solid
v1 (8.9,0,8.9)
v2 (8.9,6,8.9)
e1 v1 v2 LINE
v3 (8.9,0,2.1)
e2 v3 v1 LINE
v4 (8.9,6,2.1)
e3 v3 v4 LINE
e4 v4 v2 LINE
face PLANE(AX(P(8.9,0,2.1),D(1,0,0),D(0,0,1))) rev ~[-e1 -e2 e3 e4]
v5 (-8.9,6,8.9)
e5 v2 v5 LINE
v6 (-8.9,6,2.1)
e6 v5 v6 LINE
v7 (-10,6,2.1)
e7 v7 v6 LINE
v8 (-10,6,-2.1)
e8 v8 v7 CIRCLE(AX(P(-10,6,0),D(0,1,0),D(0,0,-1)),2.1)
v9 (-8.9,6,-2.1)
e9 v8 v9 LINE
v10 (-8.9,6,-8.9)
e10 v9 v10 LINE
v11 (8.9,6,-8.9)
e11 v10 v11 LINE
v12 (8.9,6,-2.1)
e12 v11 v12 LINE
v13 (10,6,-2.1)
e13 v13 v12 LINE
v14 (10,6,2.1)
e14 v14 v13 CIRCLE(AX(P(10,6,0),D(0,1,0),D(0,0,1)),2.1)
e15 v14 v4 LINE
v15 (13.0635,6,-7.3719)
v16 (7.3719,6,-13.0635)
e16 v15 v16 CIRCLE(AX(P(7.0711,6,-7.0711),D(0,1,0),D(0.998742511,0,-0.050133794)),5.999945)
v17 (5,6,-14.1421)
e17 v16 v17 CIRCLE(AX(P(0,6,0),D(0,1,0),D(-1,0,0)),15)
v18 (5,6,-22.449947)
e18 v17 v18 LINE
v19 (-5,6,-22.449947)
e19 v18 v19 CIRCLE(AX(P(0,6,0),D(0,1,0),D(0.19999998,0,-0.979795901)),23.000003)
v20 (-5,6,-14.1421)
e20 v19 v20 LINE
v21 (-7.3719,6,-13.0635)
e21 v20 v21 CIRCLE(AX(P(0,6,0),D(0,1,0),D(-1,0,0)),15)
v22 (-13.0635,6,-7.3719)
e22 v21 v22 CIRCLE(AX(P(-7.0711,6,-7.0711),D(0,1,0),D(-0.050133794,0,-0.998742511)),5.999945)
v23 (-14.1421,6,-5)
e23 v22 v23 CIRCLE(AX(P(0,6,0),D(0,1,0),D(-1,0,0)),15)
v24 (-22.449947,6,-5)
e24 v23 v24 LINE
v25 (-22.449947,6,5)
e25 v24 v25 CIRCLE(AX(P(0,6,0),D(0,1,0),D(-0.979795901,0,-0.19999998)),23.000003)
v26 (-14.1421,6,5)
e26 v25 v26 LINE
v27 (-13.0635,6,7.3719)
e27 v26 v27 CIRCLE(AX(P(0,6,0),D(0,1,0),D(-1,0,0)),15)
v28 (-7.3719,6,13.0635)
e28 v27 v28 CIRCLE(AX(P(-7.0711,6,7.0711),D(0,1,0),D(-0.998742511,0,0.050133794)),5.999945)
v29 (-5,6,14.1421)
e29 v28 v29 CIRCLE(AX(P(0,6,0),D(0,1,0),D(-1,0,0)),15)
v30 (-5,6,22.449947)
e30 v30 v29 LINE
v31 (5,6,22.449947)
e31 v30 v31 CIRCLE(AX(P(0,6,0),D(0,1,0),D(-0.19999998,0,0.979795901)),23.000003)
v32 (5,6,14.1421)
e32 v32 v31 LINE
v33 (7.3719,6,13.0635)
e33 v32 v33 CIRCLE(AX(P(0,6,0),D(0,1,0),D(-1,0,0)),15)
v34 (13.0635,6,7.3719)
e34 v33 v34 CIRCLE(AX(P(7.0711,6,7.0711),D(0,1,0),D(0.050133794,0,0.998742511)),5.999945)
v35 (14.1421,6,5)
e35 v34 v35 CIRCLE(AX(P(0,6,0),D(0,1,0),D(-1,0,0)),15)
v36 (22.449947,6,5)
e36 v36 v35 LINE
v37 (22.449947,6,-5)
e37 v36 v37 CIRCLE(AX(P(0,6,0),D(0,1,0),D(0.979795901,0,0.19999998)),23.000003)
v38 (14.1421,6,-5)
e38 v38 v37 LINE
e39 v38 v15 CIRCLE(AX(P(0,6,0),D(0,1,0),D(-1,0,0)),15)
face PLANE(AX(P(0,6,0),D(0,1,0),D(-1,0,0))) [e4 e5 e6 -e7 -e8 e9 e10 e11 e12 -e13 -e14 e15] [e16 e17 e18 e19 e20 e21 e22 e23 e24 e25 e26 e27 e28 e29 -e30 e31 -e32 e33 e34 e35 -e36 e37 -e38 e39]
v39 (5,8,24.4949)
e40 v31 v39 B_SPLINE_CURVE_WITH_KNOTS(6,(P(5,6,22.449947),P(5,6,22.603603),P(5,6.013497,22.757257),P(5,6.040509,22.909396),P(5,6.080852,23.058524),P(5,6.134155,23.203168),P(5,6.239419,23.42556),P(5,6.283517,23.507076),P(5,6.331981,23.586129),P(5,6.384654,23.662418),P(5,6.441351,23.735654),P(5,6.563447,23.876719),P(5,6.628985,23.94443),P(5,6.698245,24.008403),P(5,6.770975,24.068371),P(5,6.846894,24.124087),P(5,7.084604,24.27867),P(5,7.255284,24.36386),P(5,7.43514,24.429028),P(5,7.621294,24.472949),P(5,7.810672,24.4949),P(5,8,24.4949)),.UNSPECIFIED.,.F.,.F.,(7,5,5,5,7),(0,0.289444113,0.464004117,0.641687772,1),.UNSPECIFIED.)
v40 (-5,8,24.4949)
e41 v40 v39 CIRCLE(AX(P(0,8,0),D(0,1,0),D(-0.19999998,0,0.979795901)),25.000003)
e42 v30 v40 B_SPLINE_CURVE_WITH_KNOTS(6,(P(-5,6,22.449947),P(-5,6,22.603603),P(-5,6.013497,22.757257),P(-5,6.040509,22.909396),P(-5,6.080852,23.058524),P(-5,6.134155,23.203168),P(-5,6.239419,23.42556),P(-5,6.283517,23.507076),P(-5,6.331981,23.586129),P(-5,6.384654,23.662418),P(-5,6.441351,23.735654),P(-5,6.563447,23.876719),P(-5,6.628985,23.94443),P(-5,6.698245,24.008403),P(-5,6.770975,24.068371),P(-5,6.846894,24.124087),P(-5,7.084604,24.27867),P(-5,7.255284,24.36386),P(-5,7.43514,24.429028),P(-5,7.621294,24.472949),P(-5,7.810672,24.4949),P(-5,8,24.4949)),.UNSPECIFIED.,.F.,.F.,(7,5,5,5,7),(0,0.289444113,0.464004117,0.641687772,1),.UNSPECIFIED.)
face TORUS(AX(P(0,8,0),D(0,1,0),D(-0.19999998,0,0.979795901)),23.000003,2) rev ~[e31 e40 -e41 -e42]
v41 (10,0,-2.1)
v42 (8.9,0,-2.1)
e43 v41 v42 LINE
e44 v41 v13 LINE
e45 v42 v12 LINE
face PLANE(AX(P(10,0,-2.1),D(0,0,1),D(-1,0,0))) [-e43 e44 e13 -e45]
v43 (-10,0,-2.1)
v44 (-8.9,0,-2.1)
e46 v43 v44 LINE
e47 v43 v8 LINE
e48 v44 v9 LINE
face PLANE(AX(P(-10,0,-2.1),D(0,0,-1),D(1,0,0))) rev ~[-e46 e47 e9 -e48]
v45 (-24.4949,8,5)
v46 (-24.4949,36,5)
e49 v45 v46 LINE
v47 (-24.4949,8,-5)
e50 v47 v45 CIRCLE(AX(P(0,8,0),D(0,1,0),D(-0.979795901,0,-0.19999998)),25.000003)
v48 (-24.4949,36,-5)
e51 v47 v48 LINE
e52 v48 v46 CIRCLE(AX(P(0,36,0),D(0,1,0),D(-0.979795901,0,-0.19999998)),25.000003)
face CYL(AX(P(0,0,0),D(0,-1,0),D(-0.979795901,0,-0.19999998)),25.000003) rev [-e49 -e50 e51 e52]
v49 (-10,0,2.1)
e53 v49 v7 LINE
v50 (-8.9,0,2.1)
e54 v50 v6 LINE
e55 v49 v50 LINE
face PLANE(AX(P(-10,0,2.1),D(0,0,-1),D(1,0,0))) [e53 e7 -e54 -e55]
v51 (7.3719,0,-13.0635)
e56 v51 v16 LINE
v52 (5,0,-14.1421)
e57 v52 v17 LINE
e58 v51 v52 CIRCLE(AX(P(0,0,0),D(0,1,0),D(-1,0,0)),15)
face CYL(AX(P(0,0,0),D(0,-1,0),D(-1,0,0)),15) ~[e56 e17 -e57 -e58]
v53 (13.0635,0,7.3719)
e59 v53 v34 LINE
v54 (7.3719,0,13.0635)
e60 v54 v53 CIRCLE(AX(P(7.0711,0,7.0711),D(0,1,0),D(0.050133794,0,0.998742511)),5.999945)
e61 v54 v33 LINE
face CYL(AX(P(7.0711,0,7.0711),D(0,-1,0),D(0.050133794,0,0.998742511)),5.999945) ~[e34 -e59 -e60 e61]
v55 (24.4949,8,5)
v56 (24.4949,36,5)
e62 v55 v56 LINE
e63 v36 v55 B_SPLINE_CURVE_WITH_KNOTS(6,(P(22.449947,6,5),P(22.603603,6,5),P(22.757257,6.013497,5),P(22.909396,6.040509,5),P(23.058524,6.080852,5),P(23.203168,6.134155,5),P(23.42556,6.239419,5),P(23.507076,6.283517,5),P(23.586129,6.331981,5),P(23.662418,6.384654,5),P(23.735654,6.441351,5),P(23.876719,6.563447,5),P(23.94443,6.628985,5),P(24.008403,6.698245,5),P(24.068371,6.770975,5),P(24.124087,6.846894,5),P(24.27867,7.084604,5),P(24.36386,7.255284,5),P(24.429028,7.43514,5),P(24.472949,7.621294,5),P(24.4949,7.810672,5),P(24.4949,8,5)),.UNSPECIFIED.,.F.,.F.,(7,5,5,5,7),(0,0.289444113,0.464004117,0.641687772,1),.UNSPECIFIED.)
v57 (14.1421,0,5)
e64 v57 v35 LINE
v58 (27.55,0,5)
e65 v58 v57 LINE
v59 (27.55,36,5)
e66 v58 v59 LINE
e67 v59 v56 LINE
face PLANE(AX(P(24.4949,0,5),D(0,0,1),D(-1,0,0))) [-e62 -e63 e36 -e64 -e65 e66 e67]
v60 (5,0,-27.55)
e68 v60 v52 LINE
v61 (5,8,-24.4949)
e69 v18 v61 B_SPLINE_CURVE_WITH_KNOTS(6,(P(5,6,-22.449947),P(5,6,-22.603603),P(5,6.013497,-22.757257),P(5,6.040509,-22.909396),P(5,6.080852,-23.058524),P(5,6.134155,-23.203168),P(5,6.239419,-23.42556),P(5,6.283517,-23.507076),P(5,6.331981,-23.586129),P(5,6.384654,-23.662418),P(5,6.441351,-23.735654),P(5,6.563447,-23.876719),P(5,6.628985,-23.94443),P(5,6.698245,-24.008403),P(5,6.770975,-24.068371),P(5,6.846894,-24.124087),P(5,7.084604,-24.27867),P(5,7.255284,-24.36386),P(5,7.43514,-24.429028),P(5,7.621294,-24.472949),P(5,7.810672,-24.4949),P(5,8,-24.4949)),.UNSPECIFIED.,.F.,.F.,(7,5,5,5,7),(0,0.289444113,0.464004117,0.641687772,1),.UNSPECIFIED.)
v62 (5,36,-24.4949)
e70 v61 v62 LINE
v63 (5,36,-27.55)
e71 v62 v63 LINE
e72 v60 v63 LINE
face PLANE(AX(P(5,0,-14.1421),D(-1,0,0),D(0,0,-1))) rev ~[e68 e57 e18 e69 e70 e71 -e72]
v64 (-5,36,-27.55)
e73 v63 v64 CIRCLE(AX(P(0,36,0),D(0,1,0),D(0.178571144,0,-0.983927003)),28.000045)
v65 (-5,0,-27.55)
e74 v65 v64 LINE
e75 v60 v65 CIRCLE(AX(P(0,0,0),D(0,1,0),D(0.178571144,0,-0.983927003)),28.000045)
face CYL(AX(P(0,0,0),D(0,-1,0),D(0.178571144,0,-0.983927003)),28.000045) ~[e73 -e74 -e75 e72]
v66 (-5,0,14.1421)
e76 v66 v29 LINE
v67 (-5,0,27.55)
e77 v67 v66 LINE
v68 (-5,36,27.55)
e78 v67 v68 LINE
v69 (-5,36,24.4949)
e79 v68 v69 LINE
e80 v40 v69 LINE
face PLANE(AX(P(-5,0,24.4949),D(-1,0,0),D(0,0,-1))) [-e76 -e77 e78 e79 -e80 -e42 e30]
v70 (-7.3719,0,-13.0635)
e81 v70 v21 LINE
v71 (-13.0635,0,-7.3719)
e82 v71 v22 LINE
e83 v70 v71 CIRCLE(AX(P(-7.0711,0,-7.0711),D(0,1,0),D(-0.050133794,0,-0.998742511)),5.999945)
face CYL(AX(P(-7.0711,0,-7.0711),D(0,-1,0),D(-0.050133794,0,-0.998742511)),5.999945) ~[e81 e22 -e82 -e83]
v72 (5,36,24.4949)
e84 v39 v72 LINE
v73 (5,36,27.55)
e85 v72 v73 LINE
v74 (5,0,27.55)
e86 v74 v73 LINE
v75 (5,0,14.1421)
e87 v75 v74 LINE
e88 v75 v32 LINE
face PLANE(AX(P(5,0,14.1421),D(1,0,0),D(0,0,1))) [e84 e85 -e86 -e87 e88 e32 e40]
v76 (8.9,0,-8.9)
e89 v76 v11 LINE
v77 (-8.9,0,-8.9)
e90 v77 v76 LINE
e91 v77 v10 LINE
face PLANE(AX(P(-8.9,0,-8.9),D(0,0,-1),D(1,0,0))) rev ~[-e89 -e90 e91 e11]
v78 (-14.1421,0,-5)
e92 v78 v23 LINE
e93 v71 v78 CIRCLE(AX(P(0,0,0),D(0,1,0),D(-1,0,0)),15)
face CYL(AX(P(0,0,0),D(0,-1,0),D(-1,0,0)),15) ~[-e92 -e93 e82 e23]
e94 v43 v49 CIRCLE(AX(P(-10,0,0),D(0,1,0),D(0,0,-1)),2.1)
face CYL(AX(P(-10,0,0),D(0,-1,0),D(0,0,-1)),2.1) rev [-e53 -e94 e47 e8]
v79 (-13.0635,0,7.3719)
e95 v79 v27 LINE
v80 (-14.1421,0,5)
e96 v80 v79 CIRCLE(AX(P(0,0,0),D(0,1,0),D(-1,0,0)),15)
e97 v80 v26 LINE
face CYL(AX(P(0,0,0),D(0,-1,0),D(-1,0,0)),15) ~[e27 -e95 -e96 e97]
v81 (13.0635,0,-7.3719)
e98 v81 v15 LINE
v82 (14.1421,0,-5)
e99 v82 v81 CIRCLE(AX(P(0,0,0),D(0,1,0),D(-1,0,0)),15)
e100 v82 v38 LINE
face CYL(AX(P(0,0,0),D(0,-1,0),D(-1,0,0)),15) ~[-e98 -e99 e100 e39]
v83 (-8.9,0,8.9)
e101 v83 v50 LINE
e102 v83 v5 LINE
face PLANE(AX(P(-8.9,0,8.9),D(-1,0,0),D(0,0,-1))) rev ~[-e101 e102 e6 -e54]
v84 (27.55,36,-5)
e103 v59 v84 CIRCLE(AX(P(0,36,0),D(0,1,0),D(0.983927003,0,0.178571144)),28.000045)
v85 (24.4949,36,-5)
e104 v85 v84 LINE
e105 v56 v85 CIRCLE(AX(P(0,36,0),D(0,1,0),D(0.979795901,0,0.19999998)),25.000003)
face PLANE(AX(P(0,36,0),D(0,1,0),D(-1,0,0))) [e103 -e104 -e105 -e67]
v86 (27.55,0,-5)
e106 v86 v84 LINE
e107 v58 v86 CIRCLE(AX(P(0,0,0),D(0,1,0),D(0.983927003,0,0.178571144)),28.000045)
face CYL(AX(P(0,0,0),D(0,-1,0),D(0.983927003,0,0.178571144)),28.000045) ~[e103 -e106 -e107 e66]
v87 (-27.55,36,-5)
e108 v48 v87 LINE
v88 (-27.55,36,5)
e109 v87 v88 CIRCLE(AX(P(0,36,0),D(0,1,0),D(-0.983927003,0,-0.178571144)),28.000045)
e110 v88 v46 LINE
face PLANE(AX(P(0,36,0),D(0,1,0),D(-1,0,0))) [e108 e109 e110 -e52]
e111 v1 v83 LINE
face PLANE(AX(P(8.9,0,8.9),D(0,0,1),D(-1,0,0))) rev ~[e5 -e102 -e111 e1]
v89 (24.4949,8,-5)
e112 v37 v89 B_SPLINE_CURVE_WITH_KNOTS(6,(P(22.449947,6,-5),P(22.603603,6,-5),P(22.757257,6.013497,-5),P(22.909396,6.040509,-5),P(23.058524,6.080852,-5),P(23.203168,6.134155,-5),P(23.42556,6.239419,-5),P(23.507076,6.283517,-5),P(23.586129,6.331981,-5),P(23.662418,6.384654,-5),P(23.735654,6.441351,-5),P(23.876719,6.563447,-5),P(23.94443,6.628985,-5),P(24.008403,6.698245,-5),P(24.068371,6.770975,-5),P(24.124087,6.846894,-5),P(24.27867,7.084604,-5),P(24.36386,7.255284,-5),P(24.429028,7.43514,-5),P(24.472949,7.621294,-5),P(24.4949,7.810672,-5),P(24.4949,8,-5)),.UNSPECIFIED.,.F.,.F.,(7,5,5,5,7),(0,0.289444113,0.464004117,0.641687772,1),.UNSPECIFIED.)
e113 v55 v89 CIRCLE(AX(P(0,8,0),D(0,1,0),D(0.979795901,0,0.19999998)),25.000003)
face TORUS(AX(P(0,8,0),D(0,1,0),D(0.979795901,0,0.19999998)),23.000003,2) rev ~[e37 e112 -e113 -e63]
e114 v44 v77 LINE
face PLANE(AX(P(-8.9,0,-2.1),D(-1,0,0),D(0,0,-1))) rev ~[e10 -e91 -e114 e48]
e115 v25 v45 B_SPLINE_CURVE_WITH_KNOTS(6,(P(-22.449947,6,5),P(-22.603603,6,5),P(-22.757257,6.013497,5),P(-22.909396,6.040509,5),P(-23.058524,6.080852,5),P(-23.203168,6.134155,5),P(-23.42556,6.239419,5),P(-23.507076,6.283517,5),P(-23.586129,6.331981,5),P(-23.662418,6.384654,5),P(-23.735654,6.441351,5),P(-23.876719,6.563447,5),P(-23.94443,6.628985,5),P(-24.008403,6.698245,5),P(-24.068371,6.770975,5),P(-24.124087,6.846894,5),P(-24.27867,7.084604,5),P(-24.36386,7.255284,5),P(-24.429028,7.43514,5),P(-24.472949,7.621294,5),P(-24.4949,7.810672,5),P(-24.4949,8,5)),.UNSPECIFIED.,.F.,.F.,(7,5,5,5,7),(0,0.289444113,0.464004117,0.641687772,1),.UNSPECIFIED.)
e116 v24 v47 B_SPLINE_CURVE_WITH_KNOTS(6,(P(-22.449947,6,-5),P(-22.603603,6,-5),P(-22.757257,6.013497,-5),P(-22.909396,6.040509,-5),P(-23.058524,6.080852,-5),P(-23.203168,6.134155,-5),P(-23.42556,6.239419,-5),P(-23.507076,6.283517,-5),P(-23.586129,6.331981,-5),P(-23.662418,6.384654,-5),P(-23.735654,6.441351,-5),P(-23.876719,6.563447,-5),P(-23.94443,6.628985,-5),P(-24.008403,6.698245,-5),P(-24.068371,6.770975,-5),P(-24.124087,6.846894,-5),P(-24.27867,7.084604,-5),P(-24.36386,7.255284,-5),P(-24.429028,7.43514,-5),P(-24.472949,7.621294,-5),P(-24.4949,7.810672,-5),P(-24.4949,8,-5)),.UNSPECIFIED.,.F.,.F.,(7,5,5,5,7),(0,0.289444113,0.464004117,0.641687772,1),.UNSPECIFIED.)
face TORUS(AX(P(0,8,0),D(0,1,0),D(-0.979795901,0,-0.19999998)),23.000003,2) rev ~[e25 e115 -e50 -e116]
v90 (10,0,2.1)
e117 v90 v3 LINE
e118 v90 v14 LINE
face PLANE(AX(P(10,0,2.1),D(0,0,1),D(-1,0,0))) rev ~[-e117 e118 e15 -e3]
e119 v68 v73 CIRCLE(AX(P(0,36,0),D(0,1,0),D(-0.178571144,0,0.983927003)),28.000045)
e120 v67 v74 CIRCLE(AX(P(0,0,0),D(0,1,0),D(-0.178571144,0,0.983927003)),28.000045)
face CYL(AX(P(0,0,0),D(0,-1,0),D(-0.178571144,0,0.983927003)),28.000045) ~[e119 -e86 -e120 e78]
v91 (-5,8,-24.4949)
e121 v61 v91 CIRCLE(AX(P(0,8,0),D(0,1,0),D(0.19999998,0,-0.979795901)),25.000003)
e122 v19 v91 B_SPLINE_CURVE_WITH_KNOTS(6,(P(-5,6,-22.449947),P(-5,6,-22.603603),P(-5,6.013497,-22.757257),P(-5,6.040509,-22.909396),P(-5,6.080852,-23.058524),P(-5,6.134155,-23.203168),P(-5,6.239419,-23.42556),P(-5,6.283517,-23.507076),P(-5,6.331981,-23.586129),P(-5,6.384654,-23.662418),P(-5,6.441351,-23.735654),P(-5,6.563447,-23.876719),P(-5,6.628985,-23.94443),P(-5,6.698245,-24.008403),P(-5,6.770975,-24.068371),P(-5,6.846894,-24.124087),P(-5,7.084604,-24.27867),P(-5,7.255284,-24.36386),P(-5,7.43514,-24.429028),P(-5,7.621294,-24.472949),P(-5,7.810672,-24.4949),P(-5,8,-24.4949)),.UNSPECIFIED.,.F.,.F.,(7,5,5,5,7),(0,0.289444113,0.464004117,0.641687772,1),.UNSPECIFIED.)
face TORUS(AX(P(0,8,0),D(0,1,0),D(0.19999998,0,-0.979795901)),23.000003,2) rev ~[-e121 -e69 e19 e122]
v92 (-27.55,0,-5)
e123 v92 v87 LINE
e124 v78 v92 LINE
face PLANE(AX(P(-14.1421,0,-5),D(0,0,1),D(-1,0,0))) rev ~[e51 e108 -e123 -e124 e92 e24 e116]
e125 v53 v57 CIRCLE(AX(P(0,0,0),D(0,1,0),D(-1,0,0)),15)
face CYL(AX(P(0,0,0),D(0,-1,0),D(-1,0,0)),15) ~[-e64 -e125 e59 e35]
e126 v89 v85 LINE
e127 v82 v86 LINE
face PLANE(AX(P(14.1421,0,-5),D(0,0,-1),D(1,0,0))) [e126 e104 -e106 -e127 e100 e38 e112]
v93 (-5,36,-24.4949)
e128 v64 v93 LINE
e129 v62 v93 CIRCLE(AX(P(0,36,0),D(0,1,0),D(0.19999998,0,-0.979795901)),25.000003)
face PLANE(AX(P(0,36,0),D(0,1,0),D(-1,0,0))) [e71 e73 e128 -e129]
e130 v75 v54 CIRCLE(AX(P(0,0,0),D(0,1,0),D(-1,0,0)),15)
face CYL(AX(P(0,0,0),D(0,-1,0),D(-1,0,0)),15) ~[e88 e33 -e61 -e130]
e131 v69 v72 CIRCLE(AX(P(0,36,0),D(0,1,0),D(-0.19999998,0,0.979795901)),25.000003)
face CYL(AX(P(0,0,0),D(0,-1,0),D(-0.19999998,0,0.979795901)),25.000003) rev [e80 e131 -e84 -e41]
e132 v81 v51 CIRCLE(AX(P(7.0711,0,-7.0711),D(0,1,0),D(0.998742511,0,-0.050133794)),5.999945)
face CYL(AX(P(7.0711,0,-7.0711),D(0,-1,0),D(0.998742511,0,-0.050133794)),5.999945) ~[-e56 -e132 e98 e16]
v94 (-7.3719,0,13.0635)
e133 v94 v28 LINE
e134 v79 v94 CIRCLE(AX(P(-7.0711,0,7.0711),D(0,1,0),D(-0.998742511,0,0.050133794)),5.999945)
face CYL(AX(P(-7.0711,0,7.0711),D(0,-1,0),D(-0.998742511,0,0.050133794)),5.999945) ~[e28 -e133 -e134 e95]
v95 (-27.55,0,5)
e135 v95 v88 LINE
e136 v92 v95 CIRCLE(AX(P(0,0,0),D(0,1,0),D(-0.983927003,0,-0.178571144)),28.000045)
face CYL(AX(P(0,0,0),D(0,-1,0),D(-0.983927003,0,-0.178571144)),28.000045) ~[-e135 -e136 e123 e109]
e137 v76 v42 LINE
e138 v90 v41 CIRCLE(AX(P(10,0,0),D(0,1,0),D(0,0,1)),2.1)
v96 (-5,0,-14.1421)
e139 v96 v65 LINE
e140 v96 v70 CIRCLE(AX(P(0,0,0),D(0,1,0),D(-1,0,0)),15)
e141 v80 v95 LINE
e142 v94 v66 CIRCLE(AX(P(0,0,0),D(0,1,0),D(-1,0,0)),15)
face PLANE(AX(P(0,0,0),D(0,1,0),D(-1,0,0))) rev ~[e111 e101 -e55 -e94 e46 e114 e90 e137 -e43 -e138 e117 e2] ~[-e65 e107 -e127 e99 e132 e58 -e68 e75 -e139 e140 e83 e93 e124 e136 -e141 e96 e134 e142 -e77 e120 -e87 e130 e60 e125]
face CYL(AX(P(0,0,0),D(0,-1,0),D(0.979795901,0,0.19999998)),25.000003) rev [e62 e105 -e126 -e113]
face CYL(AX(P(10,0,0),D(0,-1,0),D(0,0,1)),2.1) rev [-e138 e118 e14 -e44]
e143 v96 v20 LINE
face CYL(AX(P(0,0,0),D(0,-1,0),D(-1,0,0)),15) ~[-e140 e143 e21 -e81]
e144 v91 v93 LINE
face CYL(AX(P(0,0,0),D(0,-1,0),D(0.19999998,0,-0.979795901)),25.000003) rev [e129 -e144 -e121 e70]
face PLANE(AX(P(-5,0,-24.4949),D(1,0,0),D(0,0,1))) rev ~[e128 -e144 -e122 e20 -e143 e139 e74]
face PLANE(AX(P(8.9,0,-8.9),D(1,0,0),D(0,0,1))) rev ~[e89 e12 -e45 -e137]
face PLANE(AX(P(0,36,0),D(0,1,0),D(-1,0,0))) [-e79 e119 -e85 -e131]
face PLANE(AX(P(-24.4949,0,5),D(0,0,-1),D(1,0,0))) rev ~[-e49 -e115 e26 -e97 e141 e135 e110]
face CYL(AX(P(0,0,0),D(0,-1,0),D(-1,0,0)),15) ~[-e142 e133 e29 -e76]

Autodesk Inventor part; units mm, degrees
ref_plane "YZ Plane" through (0, 0, 0) normal (1, 0, 0) x (0, 1, 0)
ref_plane "XZ Plane" through (0, 0, 0) normal (0, 1, 0) x (-1, 0, 0)
ref_plane "XY Plane" through (0, 0, 0) normal (0, 0, 1) x (1, 0, 0)
sketch "Эскиз1" plane through (0, 0, 0) normal (0, 1, 0) x (-1, 0, 0)
  line L0 (8.9, -8.9) -> (-8.9, -8.9)
  line L1 (-8.9, -8.9) -> (-8.9, -2.1)
  line L2 (-8.9, 8.9) -> (8.9, 8.9)
  line L3 (8.9, 8.9) -> (8.9, 2.1)
  line L4 (0, 0) -> (0, -10.3494) construction
  line L5 (0, 0) -> (-17.6402, 0) construction
  circle A0 centre (10, 0) radius 0.9 construction
  circle A1 centre (-10, 0) radius 0.9 construction
  arc A2 (10, -2.1) -> (10, 2.1) centre (10, 0) ccw
  line L6 (10, -2.1) -> (8.9, -2.1)
  line L7 (10, 2.1) -> (8.9, 2.1)
  line L8 (8.9, -2.1) -> (8.9, -8.9)
  line L9 (8.9, 2.1) -> (8.9, -2.1) construction
  circle A3 centre (-10, 0) radius 0.9 construction
  arc A4 (-10, 2.1) -> (-10, -2.1) centre (-10, 0) ccw
  line L10 (-10, -2.1) -> (-8.9, -2.1)
  line L11 (-10, 2.1) -> (-8.9, 2.1)
  line L12 (-8.9, -2.1) -> (-8.9, 2.1) construction
  line L13 (-8.9, 2.1) -> (-8.9, 8.9)
  circle A5 centre (0, 0) radius 15
  arc A6 (-24.4949, -5) -> (-24.4949, 5) centre (0, 0) ccw construction
  line L14 (-14.1421, -5) -> (-27.55, -5)
  line L15 (-27.55, 5) -> (-14.1421, 5)
  arc A7 (-27.55, -5) -> (-27.55, 5) centre (0, 0) ccw construction
  arc A8 (-24.4949, 5) -> (-24.4949, -5) centre (0, 0) ccw
  arc A9 (-27.55, 5) -> (-27.55, -5) centre (0, 0) ccw
  line L16 (14.1421, -5) -> (27.55, -5)
  line L17 (27.55, 5) -> (14.1421, 5)
  arc A10 (24.4949, -5) -> (24.4949, 5) centre (0, 0) ccw
  arc A11 (27.55, -5) -> (27.55, 5) centre (0, 0) ccw
  line L18 (0, 0) -> (-17.6777, -17.6777) construction
  line L19 (0, 0) -> (25, 0) construction
  line L20 (-5, -14.1421) -> (-5, -27.55)
  line L21 (5, -27.55) -> (5, -14.1421)
  arc A12 (-5, -24.4949) -> (5, -24.4949) centre (0, 0) ccw
  arc A13 (-5, -27.55) -> (5, -27.55) centre (0, 0) ccw
  arc A14 (5, 24.4949) -> (-5, 24.4949) centre (0, 0) ccw
  line L22 (-5, 14.1421) -> (-5, 27.55)
  arc A15 (5, 27.55) -> (-5, 27.55) centre (0, 0) ccw
  line L23 (5, 27.55) -> (5, 14.1421)
  arc A16 (-13.0635, -7.3719) -> (-7.3719, -13.0635) centre (-7.0711, -7.0711) ccw
  arc A17 (7.3719, -13.0635) -> (13.0635, -7.3719) centre (7.0711, -7.0711) ccw
  arc A18 (-7.3719, 13.0635) -> (-13.0635, 7.3719) centre (-7.0711, 7.0711) ccw
  arc A19 (13.0635, 7.3719) -> (7.3719, 13.0635) centre (7.0711, 7.0711) ccw
  point P0 (17.6402, 0)
  point P1 (0, -17.6402)
  point P2 (0, 17.6402)
  point P3 (0, 25)
  point P4 (-13.0635, 7.3719)
  point P5 (-7.3719, 13.0635)
  point P6 (13.0635, -7.3719)
  point P7 (7.3719, -13.0635)
  point P8 (7.3719, 13.0635)
  point P9 (13.0635, 7.3719)
  dimension "d0" = 17.8
  dimension "d1" = 17.8
  dimension "d2" = 1.8
  dimension "d3" = 20
  dimension "d4" = 4.2
  dimension "d5" = 30
  dimension "d15" = 50
  dimension "d17" = 10
  dimension "d18" = 3
  dimension "d19" = 135
  dimension "d22" = 12
  dimension "d23" = 10
extrude "Выдавливание1" add sketch "Эскиз1" along normal blind 6 contours A5 | A5 L17 A10 L16 | A5 A19 | A17 A5 | A5 L22 A14 L23 | L21 A12 L20 A5 | A5 A18 | A16 A5 | A5 L14 A8 L15
sketch "Эскиз2" plane through (0, 0, 0) normal (0, 1, 0) x (-1, 0, 0)
  arc A0 (-13.0635, 7.3719) -> (-14.1421, 5) centre (0, 0) ccw construction
  line L0 (8.9, -2.1) -> (8.9, -8.9) construction
  line L1 (8.9, -8.9) -> (-8.9, -8.9) construction
  line L2 (-8.9, -8.9) -> (-8.9, -2.1) construction
  line L3 (-8.9, -2.1) -> (-10, -2.1) construction
  arc A1 (-10, 2.1) -> (-10, -2.1) centre (-10, 0) ccw construction
  line L4 (-10, 2.1) -> (-8.9, 2.1) construction
  line L5 (-8.9, 2.1) -> (-8.9, 8.9) construction
  line L6 (-8.9, 8.9) -> (8.9, 8.9) construction
  line L7 (8.9, 8.9) -> (8.9, 2.1) construction
  line L8 (8.9, 2.1) -> (10, 2.1) construction
  arc A2 (10, -2.1) -> (10, 2.1) centre (10, 0) ccw construction
  line L9 (10, -2.1) -> (8.9, -2.1) construction
  circle A3 centre (14.713, -5.4) radius 1.4
  line L10 (0, 0) -> (0, -15) construction
  circle A4 centre (-14.713, -5.4) radius 1.4
  arc A5 (12.5706, -3.3) -> (16.8554, -3.3) centre (14.713, -5.4) ccw
  arc A6 (-16.8554, -3.3) -> (-12.5706, -3.3) centre (-14.713, -5.4) ccw
  line L11 (14.713, -5.4) -> (14.713, -3.3) construction
  line L12 (16.8554, -3.3) -> (12.5706, -3.3)
  line L13 (-16.8554, -3.3) -> (-12.5706, -3.3)
  arc A7 (-5, 14.1421) -> (-7.3719, 13.0635) centre (0, 0) ccw projected
  line L14 (-5, -14.1421) -> (-5, -24.4949) projected
  arc A8 (-5, -24.4949) -> (5, -24.4949) centre (0, 0) ccw projected
  line L15 (5, -24.4949) -> (5, -14.1421) projected
  line L16 (14.1421, -5) -> (24.4949, -5) projected
  arc A9 (24.4949, -5) -> (24.4949, 5) centre (0, 0) ccw projected
  line L17 (24.4949, 5) -> (14.1421, 5) projected
  arc A10 (7.3719, 13.0635) -> (5, 14.1421) centre (0, 0) ccw projected
  line L18 (5, 14.1421) -> (5, 24.4949) projected
  arc A11 (5, 24.4949) -> (-5, 24.4949) centre (0, 0) ccw projected
  line L19 (-5, 24.4949) -> (-5, 14.1421) projected
  arc A12 (14.1421, 5) -> (13.0635, 7.3719) centre (0, 0) ccw projected
  line L20 (-14.1421, 5) -> (-24.4949, 5) projected
  arc A13 (-24.4949, 5) -> (-24.4949, -5) centre (0, 0) ccw projected
  line L21 (-24.4949, -5) -> (-14.1421, -5) projected
  arc A14 (-14.1421, -5) -> (-13.0635, -7.3719) centre (0, 0) ccw projected
  arc A15 (-13.0635, -7.3719) -> (-7.3719, -13.0635) centre (-7.0711, -7.0711) ccw projected
  arc A16 (-7.3719, -13.0635) -> (-5, -14.1421) centre (0, 0) ccw projected
  arc A17 (5, -14.1421) -> (7.3719, -13.0635) centre (0, 0) ccw projected
  arc A18 (7.3719, -13.0635) -> (13.0635, -7.3719) centre (7.0711, -7.0711) ccw projected
  arc A19 (13.0635, -7.3719) -> (14.1421, -5) centre (0, 0) ccw projected
  arc A20 (13.0635, 7.3719) -> (7.3719, 13.0635) centre (7.0711, 7.0711) ccw projected
  arc A21 (-7.3719, 13.0635) -> (-13.0635, 7.3719) centre (-7.0711, 7.0711) ccw projected
  dimension "d8" = 2.8
  dimension "d9" = 3.3
  dimension "d10" = 29.426
  dimension "d11" = 6
  dimension "d14" = 2.1
extrude "Выдавливание2" [suppressed]
extrude "Выдавливание3" add sketch "Эскиз1" along normal blind 36 contours L17 A11 L16 A10 | A14 L22 A15 L23 | L21 A13 L20 A12 | A8 L14 A9 L15
fillet "Сопряжение1" radius 2 4 edges at (0, 6, -25) (25, 6, 0) (-25, 6, 0) (0, 6, 25)
properties part number "mirror_mount_empty"
